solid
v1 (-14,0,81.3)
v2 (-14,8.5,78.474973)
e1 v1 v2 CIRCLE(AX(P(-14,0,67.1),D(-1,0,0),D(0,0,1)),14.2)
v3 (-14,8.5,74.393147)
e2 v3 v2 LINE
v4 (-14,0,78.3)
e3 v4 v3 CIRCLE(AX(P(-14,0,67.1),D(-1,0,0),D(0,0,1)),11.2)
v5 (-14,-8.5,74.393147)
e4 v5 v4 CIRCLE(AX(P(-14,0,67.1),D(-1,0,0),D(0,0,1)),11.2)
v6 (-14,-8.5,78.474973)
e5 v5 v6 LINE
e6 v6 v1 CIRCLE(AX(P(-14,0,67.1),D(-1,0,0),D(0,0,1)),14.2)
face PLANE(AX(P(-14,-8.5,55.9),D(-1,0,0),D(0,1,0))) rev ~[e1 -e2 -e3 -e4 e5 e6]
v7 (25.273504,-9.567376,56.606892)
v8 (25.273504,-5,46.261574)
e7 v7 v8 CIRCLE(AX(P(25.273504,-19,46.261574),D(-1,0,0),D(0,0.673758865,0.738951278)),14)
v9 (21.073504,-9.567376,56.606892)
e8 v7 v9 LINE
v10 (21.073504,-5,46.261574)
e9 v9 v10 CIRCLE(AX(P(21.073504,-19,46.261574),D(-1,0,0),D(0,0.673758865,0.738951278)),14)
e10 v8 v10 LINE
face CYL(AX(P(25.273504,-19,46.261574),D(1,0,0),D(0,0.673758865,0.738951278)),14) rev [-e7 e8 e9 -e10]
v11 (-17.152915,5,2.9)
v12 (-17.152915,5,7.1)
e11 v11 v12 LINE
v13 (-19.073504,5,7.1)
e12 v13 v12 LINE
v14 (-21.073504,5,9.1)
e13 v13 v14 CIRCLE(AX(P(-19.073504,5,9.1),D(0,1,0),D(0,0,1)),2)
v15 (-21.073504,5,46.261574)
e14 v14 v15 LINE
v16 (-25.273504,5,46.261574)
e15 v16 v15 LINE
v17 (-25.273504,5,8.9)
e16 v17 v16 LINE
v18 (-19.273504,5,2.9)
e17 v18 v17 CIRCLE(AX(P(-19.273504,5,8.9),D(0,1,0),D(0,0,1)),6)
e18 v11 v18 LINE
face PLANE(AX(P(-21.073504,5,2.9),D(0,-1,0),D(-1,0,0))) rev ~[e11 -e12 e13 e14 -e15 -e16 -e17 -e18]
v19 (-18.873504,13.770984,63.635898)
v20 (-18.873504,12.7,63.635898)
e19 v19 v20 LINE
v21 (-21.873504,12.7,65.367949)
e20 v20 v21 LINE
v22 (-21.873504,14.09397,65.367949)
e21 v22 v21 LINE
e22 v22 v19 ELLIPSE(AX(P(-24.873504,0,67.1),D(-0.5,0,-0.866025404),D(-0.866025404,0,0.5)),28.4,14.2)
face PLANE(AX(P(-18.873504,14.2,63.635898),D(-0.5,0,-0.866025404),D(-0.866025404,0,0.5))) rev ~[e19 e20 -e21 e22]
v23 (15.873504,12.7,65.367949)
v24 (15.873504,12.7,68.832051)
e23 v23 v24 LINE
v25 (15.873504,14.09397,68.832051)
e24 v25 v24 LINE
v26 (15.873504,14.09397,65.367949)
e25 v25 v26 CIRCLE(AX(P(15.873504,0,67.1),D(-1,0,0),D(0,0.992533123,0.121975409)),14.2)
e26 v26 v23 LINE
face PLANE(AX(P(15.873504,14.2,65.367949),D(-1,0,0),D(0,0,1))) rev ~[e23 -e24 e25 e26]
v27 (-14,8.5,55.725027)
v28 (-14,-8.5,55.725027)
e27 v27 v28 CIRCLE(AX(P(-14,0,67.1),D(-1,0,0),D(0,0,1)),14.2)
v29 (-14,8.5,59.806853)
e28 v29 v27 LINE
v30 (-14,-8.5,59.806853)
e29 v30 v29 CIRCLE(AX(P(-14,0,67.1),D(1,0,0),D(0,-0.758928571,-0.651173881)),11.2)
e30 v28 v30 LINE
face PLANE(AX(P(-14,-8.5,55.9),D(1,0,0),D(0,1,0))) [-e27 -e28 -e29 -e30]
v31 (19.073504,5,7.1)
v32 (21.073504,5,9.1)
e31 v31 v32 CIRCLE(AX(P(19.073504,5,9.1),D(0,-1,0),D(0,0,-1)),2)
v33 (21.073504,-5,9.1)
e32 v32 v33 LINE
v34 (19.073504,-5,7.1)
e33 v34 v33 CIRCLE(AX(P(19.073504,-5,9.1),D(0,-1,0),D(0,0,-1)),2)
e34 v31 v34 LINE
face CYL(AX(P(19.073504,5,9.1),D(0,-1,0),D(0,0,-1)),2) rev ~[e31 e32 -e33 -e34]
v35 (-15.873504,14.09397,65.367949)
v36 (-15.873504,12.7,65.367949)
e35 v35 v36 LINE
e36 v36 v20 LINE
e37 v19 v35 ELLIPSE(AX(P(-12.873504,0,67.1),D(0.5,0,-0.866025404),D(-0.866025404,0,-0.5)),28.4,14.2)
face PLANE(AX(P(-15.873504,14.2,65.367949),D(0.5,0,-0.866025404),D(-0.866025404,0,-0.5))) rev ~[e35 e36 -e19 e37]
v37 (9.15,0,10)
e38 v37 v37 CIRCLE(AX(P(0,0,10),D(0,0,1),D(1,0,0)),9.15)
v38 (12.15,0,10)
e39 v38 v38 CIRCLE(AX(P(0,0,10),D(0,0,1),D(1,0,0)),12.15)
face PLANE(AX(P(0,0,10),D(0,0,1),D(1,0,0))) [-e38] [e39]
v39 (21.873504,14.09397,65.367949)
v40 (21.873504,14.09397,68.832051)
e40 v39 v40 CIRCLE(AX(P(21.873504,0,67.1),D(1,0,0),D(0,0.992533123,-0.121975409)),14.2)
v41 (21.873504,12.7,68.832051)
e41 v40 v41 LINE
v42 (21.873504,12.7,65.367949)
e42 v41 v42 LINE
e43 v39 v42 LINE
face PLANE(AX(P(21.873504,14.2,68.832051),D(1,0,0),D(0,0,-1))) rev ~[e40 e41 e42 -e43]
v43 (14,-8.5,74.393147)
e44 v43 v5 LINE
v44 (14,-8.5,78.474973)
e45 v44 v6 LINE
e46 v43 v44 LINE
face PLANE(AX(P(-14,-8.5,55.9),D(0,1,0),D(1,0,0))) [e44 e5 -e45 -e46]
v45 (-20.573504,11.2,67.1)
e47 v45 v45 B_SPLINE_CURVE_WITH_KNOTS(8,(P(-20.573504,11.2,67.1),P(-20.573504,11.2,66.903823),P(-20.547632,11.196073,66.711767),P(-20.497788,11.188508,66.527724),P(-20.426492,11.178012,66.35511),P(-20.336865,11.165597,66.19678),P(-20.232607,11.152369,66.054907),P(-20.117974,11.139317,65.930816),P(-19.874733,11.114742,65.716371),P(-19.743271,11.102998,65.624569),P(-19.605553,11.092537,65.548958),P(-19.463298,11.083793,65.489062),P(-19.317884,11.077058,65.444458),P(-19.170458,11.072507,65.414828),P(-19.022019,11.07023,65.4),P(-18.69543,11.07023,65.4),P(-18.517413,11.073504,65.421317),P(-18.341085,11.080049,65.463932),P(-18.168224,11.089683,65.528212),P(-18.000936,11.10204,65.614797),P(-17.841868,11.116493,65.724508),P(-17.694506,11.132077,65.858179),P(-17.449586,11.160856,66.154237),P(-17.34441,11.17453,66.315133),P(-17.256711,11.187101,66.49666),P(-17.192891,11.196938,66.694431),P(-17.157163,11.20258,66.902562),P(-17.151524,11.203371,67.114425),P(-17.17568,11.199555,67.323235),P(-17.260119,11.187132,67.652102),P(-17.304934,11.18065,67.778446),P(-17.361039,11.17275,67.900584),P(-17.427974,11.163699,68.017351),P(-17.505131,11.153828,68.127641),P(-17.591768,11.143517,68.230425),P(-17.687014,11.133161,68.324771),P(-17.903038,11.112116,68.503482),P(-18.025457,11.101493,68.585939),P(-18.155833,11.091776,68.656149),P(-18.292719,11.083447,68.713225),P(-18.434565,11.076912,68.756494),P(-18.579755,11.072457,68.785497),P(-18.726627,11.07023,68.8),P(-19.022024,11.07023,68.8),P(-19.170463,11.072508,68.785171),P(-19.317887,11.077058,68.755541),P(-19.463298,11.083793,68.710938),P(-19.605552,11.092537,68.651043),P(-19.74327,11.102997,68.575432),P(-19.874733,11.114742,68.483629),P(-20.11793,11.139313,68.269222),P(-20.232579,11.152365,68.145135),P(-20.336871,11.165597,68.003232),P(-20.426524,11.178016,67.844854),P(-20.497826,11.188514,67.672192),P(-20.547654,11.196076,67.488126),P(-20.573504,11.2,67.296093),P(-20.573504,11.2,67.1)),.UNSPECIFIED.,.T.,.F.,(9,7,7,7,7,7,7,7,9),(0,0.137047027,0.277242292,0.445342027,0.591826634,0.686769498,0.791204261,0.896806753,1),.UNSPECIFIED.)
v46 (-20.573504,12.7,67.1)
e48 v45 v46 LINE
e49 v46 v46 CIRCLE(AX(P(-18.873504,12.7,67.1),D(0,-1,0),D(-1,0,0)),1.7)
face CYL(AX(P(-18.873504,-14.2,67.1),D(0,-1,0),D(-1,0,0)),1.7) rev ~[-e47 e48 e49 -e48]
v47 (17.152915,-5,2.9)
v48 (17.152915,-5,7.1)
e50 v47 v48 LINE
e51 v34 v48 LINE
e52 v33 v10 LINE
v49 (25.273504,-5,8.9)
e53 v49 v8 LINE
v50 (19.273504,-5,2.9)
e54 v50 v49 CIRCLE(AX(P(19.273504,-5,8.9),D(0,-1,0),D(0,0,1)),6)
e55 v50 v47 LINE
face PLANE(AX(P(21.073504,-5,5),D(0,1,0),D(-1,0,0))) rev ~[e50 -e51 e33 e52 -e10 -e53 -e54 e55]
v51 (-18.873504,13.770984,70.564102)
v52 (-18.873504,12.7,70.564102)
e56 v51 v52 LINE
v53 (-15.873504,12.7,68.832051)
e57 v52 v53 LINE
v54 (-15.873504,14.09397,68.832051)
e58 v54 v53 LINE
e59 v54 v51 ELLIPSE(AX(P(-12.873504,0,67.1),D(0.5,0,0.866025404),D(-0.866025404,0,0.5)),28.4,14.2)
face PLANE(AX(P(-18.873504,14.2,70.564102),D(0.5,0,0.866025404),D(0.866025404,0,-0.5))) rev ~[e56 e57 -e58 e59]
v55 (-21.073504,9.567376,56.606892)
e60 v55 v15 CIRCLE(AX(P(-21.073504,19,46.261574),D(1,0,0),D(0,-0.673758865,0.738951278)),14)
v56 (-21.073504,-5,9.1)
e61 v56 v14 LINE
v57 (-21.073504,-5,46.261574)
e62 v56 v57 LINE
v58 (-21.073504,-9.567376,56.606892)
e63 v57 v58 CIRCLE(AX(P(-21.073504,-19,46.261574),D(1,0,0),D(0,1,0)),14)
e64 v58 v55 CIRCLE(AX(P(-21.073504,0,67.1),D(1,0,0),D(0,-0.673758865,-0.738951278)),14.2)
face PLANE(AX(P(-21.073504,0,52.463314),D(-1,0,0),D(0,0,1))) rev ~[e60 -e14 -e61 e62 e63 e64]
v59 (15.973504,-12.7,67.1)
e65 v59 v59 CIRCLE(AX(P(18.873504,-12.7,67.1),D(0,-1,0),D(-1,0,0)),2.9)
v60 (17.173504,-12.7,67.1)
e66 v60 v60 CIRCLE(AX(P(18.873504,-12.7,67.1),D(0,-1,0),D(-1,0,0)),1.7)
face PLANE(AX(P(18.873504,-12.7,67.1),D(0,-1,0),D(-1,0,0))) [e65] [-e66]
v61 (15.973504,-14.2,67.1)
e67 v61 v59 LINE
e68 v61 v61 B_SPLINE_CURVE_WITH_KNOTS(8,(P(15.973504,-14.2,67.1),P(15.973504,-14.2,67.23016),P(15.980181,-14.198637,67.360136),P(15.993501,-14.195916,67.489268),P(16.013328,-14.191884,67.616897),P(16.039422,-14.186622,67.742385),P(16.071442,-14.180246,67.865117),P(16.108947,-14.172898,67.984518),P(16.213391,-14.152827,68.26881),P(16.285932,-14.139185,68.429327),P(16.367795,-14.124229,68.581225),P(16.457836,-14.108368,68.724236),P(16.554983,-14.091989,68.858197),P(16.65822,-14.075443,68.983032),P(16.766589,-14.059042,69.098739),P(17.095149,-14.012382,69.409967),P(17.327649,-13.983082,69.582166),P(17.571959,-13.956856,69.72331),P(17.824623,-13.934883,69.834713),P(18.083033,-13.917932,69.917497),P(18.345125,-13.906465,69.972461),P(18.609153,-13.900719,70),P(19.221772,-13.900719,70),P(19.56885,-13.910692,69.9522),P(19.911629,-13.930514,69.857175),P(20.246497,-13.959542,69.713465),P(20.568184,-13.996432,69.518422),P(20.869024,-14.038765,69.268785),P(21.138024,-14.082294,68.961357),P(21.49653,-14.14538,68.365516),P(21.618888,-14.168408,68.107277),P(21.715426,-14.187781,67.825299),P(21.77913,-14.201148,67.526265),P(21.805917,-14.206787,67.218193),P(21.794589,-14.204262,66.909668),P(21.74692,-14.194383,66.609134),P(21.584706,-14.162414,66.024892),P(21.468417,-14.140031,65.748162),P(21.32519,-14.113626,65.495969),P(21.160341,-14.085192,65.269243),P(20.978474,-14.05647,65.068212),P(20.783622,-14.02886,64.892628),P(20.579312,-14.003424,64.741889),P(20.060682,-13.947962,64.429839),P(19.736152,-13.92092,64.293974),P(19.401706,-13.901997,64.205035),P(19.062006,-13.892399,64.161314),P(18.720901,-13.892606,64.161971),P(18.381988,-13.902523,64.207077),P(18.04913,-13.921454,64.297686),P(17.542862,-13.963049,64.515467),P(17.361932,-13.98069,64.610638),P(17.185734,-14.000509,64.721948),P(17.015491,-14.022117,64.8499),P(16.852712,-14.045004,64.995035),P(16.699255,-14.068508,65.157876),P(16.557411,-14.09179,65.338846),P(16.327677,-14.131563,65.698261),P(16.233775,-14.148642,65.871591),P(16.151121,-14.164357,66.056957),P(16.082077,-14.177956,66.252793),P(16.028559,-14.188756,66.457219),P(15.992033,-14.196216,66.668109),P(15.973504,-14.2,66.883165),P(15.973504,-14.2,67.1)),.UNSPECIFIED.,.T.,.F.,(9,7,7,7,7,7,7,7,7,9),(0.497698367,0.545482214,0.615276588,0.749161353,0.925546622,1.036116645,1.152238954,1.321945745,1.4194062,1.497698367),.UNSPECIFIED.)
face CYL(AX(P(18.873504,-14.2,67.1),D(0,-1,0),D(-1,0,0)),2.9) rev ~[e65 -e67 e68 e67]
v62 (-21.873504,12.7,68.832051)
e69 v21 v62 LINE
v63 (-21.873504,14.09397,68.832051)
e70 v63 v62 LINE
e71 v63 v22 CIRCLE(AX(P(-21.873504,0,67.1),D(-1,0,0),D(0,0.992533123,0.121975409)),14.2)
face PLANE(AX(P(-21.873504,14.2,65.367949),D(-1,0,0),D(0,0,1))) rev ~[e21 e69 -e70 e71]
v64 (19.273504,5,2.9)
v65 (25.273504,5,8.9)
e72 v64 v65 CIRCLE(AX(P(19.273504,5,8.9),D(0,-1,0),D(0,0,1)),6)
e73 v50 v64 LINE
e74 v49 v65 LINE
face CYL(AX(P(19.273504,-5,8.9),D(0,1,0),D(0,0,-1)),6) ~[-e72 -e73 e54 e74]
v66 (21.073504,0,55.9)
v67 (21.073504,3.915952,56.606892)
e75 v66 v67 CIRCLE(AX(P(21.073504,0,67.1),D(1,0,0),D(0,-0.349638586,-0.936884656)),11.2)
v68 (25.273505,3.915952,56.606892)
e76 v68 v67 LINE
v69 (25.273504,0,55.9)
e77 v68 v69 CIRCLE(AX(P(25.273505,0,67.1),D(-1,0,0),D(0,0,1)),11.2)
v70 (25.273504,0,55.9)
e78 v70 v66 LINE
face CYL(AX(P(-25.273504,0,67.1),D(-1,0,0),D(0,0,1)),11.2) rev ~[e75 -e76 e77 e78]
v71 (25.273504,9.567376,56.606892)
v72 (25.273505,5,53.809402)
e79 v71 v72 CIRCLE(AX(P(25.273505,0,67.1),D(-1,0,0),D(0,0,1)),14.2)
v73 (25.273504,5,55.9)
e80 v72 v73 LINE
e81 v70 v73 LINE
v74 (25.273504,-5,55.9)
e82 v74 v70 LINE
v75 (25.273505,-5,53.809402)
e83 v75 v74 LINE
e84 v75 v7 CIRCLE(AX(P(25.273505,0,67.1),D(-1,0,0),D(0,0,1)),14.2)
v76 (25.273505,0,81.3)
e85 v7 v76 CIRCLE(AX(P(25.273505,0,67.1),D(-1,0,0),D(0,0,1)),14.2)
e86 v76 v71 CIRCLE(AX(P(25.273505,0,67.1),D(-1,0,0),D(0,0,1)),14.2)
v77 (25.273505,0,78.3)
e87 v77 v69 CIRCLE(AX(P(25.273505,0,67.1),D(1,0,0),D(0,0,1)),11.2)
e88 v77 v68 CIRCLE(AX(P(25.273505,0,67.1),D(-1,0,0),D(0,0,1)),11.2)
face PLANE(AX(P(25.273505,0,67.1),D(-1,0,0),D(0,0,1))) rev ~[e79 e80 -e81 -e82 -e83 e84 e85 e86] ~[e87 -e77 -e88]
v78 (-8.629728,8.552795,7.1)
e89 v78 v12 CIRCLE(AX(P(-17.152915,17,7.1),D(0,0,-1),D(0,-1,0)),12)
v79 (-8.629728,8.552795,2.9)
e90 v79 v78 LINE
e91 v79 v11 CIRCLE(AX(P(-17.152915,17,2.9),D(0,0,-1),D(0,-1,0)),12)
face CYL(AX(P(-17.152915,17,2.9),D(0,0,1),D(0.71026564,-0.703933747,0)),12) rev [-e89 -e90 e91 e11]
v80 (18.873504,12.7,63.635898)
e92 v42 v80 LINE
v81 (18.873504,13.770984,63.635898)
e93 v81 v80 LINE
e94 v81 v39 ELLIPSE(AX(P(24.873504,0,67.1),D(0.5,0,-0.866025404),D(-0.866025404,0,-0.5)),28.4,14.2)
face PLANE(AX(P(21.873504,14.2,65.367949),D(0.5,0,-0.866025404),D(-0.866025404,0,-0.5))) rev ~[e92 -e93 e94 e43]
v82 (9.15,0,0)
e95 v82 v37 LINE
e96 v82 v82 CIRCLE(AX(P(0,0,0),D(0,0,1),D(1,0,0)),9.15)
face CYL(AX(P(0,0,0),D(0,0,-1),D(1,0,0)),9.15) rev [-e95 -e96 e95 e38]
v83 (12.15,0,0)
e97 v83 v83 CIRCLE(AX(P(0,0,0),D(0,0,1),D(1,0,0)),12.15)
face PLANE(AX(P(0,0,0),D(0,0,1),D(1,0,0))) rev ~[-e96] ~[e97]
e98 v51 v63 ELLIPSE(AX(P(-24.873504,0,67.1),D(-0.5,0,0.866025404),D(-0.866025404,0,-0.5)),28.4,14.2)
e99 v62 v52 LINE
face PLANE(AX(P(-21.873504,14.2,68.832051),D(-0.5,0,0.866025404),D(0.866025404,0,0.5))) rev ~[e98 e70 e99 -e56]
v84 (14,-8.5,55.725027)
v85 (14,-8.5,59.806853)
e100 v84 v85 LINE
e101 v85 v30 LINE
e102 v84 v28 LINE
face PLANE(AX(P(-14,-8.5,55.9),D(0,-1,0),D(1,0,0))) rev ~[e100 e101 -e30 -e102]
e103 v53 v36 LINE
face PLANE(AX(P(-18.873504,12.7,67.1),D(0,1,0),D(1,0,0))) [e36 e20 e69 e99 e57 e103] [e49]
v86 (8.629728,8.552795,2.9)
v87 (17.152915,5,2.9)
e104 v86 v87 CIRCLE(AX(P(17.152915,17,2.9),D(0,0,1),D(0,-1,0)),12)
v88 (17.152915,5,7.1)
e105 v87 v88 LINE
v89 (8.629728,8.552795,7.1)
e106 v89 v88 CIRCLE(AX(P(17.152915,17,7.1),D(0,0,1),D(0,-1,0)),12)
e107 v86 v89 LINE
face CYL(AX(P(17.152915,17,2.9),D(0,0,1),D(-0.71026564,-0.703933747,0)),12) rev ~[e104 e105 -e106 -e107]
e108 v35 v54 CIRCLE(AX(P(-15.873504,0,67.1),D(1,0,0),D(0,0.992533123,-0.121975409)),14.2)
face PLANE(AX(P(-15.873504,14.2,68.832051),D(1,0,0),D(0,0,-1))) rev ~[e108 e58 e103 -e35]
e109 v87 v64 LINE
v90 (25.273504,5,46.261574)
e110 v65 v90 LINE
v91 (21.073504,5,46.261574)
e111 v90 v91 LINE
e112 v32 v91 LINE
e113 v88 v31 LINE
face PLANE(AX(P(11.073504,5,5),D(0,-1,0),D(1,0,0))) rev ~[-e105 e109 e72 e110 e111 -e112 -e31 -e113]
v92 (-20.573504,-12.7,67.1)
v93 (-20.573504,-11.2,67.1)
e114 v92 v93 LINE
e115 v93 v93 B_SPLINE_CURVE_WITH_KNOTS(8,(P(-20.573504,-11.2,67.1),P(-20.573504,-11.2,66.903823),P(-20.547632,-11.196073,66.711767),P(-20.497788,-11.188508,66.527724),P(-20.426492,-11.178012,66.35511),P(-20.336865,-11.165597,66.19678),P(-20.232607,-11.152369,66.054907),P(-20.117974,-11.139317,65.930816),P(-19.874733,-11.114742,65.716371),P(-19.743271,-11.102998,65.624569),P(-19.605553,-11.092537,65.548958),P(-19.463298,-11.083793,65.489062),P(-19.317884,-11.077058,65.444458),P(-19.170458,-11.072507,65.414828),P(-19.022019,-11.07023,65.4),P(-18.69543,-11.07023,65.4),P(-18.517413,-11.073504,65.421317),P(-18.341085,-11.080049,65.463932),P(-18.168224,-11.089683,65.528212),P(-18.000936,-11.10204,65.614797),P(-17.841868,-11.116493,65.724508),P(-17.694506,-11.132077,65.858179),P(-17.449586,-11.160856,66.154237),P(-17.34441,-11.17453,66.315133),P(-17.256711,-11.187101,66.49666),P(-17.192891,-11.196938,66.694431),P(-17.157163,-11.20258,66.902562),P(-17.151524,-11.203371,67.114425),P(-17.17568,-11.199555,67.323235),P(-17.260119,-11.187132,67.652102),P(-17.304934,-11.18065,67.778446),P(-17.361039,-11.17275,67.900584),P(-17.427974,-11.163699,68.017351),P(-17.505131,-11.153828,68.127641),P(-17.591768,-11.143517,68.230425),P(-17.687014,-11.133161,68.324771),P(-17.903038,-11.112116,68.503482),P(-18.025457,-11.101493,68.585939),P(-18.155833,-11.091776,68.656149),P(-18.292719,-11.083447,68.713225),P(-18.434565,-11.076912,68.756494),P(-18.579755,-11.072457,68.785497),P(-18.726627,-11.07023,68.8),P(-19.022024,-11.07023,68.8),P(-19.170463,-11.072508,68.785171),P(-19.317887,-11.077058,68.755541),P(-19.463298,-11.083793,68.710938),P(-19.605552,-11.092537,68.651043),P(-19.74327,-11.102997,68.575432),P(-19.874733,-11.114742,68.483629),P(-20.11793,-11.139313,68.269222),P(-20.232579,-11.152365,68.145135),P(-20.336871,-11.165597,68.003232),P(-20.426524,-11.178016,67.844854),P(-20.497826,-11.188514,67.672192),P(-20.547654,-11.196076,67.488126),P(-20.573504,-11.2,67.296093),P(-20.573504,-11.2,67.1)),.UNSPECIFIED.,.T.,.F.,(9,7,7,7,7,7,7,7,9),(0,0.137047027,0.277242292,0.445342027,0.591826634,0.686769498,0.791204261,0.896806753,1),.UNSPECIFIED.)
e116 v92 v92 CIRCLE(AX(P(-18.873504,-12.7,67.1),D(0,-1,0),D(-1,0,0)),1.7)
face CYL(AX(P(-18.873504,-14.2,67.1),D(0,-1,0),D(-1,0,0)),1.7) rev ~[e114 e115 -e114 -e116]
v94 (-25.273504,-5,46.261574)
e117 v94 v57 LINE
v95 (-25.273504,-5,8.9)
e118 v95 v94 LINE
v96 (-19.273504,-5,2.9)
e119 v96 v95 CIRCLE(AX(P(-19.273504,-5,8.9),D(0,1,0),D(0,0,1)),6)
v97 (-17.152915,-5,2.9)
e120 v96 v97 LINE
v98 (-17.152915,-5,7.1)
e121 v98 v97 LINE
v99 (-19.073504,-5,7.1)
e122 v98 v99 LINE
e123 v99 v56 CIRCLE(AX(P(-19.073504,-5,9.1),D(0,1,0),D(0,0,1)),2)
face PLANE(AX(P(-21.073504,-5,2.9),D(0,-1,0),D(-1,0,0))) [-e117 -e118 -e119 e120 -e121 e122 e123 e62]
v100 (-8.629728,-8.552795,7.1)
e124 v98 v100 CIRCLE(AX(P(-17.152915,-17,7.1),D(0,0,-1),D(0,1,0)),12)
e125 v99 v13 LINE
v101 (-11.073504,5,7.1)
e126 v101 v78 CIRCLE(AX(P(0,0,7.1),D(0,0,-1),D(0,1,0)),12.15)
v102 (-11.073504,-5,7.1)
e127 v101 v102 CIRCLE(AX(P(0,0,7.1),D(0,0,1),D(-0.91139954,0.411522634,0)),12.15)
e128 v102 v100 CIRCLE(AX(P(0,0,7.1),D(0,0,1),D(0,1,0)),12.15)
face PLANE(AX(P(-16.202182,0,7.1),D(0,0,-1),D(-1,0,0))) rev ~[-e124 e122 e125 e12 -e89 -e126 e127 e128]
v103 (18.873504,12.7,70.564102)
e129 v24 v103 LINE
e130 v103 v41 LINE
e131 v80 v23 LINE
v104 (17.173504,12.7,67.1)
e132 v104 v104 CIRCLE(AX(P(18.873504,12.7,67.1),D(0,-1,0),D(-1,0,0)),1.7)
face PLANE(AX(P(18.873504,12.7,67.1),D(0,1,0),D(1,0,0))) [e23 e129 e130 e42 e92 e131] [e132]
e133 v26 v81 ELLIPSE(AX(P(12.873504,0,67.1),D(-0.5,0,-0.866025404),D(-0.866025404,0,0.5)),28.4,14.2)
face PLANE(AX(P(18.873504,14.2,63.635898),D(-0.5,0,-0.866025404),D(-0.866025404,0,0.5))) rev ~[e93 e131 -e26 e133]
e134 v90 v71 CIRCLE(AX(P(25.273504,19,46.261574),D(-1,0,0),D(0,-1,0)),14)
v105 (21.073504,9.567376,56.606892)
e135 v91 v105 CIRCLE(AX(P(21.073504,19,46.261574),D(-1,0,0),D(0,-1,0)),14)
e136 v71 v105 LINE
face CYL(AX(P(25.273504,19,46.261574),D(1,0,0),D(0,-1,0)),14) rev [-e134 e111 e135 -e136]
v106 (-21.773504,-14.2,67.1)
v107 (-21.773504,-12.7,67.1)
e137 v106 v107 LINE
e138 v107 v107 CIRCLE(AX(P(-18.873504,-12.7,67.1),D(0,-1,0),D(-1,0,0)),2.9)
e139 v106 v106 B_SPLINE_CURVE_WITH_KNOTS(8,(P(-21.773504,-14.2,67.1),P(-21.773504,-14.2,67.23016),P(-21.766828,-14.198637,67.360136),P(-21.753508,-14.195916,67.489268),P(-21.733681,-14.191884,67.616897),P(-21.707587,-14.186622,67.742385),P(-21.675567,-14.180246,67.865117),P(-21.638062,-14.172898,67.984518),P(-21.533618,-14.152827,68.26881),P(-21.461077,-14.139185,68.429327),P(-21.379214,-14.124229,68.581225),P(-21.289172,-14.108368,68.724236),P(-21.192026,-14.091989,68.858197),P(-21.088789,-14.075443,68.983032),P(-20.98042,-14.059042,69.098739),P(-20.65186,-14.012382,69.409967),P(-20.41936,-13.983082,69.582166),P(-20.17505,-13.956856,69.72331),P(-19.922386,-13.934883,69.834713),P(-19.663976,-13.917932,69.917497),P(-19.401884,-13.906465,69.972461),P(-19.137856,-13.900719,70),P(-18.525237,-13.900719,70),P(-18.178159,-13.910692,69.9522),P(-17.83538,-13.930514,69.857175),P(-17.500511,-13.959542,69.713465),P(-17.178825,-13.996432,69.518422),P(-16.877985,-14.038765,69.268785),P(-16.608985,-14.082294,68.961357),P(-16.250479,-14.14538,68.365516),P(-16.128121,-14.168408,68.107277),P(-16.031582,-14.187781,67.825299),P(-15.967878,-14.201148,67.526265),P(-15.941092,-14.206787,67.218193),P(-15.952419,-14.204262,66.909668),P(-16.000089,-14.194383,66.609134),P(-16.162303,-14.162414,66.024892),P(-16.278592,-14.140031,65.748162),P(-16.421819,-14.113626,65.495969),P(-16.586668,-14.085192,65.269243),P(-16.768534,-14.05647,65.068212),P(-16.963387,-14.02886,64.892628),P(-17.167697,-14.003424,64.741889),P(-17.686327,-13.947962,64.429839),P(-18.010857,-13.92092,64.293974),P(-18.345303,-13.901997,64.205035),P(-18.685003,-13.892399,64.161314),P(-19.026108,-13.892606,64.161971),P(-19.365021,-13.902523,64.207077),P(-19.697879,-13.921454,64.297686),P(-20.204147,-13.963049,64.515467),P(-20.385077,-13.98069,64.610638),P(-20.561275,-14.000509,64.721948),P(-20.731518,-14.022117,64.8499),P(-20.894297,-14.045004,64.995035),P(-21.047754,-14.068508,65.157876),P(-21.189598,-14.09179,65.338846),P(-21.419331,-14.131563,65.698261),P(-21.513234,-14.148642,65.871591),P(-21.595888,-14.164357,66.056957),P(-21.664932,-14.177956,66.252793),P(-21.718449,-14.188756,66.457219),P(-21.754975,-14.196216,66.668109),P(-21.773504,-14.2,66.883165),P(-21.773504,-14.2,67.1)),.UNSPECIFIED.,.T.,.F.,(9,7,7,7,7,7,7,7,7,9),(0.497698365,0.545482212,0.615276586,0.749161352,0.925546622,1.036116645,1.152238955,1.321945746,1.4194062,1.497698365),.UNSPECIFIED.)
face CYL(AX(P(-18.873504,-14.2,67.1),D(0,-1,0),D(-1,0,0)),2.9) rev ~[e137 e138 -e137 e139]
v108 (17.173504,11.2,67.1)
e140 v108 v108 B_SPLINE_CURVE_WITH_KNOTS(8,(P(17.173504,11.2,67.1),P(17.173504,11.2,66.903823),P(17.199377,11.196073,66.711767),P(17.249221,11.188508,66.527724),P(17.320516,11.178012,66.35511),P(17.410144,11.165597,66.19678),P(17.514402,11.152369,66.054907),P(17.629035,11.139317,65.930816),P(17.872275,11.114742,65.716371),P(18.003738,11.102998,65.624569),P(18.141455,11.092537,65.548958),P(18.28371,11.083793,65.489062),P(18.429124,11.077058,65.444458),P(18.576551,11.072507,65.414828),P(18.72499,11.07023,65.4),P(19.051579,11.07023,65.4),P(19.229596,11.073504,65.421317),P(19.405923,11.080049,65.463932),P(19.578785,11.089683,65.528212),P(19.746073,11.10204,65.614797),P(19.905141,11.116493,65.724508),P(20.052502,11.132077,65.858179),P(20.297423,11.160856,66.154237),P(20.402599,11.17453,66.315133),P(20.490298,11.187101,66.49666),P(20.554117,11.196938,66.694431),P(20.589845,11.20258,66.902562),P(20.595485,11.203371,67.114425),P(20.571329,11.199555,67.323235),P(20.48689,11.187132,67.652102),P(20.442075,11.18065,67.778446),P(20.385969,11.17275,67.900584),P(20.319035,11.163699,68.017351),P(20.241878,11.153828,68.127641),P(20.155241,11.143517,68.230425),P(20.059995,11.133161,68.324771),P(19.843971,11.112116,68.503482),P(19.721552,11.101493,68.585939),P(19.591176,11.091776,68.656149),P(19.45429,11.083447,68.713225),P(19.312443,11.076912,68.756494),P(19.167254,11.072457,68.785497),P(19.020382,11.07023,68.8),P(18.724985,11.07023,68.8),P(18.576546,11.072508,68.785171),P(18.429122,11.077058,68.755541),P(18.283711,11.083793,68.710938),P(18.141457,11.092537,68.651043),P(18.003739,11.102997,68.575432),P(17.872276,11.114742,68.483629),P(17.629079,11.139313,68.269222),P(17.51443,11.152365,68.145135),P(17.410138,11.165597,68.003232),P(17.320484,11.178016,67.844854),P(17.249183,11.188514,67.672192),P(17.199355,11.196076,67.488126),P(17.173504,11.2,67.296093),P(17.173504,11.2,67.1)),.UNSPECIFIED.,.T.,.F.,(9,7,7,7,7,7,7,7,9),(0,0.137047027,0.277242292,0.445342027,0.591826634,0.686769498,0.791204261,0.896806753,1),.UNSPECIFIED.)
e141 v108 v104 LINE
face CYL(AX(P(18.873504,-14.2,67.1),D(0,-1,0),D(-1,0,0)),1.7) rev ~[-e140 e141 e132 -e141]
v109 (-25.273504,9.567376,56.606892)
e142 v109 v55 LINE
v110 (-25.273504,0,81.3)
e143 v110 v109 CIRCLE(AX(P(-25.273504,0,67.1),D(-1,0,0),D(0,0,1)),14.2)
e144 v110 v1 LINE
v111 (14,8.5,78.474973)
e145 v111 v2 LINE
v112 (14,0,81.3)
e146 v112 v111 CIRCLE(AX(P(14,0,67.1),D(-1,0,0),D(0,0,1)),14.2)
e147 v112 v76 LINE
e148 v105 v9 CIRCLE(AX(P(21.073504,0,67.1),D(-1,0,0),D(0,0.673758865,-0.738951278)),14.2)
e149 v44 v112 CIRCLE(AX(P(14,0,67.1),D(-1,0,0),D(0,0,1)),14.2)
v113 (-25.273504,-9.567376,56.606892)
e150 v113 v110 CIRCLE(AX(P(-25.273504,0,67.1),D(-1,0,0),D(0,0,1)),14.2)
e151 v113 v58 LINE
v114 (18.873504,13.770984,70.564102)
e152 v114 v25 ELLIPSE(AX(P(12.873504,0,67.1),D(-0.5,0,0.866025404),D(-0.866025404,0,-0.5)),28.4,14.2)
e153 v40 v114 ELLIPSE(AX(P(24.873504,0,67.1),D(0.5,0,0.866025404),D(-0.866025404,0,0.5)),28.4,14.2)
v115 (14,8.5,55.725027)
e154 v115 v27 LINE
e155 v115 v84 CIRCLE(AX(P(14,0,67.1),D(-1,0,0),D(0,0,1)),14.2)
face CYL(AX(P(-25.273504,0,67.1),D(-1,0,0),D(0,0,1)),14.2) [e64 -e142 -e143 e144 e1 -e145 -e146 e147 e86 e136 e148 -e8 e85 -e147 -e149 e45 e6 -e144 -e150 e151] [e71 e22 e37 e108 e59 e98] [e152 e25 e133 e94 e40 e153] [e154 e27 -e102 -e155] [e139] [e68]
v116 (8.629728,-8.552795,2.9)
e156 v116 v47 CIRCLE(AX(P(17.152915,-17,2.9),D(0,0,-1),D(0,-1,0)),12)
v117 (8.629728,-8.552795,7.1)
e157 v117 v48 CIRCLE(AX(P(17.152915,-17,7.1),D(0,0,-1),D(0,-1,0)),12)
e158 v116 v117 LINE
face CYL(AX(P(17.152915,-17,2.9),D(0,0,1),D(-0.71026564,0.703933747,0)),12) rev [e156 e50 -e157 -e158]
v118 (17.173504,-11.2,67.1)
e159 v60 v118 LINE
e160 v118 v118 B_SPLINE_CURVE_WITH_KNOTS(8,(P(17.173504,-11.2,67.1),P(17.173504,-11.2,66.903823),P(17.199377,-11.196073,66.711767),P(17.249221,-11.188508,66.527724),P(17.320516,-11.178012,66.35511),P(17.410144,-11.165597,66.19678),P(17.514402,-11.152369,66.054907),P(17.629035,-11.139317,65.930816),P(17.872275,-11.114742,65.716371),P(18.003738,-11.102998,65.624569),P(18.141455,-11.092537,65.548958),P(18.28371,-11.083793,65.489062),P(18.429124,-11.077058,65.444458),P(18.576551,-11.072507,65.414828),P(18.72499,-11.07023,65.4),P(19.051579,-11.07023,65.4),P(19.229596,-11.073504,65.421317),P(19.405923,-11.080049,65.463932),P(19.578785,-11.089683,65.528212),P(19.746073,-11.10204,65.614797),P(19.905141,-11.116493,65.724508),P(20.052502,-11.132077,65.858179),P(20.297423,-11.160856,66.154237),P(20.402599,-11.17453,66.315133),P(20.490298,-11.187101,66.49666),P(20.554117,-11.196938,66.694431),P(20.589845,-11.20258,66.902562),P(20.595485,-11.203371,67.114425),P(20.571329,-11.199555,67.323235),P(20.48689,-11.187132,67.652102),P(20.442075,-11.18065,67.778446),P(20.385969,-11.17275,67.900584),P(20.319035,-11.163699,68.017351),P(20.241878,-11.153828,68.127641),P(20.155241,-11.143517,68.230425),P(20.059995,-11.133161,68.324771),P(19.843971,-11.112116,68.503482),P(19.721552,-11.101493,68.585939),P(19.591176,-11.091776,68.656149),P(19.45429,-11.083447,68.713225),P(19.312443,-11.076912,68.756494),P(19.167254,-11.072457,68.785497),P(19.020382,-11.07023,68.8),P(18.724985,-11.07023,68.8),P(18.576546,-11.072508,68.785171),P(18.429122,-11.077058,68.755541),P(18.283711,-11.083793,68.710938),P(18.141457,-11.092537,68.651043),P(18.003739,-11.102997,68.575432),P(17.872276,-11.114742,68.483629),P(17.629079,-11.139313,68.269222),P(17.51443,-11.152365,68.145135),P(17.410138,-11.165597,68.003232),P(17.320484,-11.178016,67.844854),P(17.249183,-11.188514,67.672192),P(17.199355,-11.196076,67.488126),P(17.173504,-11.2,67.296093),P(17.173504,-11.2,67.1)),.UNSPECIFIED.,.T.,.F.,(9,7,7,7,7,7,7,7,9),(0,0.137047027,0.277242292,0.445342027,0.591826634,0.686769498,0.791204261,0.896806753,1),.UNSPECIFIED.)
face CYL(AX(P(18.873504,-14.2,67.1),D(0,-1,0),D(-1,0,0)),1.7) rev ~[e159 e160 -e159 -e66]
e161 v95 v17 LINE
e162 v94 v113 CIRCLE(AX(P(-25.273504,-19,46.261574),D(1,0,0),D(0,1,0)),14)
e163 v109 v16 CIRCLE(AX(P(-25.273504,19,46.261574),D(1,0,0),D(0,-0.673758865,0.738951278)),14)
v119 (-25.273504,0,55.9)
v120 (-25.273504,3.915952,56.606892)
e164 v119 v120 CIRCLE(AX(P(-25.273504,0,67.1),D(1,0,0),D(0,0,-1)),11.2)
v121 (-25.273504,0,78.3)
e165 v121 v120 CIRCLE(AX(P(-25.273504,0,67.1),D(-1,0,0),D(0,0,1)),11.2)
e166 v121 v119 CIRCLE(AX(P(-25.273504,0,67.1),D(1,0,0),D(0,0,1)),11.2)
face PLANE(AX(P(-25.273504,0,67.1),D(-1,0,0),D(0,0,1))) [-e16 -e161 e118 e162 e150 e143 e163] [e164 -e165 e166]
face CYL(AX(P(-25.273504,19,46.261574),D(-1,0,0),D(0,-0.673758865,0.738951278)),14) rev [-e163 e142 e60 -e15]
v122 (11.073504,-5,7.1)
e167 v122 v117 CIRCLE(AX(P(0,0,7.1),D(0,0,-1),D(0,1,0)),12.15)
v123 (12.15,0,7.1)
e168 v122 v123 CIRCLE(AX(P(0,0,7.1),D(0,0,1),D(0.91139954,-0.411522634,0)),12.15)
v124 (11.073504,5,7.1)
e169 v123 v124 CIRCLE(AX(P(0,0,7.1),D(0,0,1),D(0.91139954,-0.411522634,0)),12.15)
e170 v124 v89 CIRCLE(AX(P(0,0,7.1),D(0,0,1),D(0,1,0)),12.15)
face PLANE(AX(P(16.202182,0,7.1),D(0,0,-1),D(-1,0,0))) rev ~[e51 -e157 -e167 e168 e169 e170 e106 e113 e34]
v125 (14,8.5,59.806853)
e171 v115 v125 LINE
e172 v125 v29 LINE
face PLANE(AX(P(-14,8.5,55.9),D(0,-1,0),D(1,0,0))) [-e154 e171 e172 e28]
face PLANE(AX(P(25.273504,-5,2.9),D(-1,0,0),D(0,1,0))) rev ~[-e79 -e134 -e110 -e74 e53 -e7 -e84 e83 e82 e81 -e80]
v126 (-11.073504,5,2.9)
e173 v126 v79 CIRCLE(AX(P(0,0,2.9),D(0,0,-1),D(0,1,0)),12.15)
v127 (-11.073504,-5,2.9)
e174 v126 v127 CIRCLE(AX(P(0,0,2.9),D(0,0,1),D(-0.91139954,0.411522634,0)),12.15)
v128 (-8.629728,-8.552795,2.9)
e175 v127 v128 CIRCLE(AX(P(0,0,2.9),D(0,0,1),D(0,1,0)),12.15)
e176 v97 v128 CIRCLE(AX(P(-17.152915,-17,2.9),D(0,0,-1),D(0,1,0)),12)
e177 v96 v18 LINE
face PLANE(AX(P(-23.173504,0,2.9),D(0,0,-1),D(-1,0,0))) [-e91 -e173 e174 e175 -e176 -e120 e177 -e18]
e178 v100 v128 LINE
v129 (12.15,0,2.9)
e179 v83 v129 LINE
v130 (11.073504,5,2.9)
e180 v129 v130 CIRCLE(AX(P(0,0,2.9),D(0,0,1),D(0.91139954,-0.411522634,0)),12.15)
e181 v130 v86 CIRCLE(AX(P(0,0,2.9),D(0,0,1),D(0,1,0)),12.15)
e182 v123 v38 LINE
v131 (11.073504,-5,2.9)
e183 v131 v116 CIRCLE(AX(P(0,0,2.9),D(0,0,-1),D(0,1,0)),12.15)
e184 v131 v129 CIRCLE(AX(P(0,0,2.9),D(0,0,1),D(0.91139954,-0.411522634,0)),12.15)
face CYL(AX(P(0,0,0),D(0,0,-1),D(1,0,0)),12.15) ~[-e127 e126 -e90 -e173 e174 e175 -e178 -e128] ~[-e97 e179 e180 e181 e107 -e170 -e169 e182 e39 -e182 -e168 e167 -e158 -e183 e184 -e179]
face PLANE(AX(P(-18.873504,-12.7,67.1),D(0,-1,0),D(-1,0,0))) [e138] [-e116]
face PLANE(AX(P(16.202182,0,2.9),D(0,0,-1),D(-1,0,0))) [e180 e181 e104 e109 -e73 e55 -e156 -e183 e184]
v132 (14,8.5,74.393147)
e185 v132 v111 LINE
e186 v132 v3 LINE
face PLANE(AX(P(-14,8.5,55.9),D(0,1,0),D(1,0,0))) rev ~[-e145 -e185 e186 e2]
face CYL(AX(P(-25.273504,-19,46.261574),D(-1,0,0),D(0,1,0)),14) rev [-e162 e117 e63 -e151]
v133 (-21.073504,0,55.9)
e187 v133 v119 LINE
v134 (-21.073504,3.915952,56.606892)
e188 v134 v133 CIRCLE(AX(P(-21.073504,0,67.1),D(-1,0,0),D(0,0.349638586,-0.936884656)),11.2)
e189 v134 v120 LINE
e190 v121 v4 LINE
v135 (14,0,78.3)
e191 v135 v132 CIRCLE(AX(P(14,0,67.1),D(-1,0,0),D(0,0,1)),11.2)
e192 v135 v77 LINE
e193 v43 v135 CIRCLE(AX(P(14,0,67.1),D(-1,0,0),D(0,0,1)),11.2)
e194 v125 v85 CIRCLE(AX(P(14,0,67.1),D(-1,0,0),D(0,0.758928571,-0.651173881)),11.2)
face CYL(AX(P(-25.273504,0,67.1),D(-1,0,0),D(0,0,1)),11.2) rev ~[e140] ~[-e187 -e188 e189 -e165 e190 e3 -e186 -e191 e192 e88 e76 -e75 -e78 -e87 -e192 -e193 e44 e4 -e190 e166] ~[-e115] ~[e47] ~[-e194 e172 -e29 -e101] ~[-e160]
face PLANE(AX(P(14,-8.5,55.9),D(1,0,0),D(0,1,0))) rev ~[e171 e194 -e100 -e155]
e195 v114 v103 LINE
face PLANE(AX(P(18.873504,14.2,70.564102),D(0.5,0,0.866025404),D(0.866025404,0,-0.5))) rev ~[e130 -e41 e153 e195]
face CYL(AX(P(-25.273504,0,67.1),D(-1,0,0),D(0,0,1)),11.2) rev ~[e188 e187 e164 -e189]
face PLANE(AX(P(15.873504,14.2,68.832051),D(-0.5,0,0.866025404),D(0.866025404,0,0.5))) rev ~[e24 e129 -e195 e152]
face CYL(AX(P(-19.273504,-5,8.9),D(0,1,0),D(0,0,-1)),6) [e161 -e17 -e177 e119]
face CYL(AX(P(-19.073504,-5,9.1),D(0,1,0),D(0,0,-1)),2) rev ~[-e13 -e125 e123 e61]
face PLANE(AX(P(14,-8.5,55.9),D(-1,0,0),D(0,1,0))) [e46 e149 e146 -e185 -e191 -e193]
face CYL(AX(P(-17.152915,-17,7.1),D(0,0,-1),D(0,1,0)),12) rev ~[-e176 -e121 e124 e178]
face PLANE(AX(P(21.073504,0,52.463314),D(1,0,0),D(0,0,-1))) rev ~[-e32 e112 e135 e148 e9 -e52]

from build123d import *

# Parameters (mm, degrees)
SKETCH1_R                = 12.15
SKETCH1_R_2              = 9.15
BOSS_EXTRUDE1_DEPTH      = 10
BOSS_EXTRUDE2_DEPTH      = 2.1
BOSS_EXTRUDE2_DEPTH_BACK = 2.1
SKETCH4_W                = 4.2
SKETCH4_H                = 10
BOSS_EXTRUDE3_DEPTH      = 53
FILLET1_R                = 12
SKETCH5_R                = 14.2
SKETCH5_R_2              = 11.2
BOSS_EXTRUDE4_DEPTH      = 50.547009
BOSS_EXTRUDE11_DEPTH     = 4.2
BOSS_EXTRUDE12_DEPTH     = 4.2
FILLET2_R                = 6
FILLET3_R                = 2
SKETCH10_R               = 11.2
CUT_EXTRUDE2_DEPTH       = 51.547008827
SKETCH15_R               = 1.7
CUT_EXTRUDE5_DEPTH       = 1
CUT_EXTRUDE5_DEPTH_BACK  = 29.4
SKETCH17_R               = 2.9
CUT_EXTRUDE6_DEPTH       = 1.5
CUT_EXTRUDE7_DEPTH       = 1.5
SKETCH19_W               = 28
SKETCH19_H               = 17
CUT_EXTRUDE8_DEPTH       = 26.4000001
CUT_EXTRUDE8_DEPTH_BACK  = 4


with BuildPart() as part:
    # Sketch1 → Boss-Extrude1 (new body)
    with BuildSketch(Plane.XY):
        Circle(SKETCH1_R)
        Circle(SKETCH1_R_2, mode=Mode.SUBTRACT)
    extrude(amount=BOSS_EXTRUDE1_DEPTH)

    # Sketch2 → Boss-Extrude2 (add, two sides)
    with BuildSketch(Plane.XY.offset(5)) as boss_extrude2_sk:
        with BuildLine():
            Line((11.073504414, 5), (21.073504414, 5))
            Line((21.073504414, 5), (21.073504414, -5))
            Line((21.073504414, -5), (11.073504414, -5))
            ThreePointArc((11.073504414, -5), (12.15, 0), (11.073504414, 5))
        make_face()
        with BuildLine():
            ThreePointArc((-11.073504414, 5), (-12.15, 0), (-11.073504414, -5))
            Line((-11.073504414, -5), (-21.073504414, -5))
            Line((-21.073504414, -5), (-21.073504414, 5))
            Line((-21.073504414, 5), (-11.073504414, 5))
        make_face()
    extrude(amount=BOSS_EXTRUDE2_DEPTH)
    extrude(boss_extrude2_sk.sketch, amount=-BOSS_EXTRUDE2_DEPTH_BACK)

    # Sketch4 → Boss-Extrude3 (add)
    with BuildSketch(Plane(origin=(0, 0, 2.9), x_dir=(-1, 0, 0), z_dir=(0, 0, -1))):
        with Locations((23.173504414, 0)):
            Rectangle(SKETCH4_W, SKETCH4_H)
        with Locations((-23.173504414, 0)):
            Rectangle(SKETCH4_W, SKETCH4_H)
    extrude(amount=-BOSS_EXTRUDE3_DEPTH)

    # Fillet1
    fillet1_edges = [part.edges().sort_by_distance(p)[0] for p in [
        (11.073504414, 5, 5),
        (11.073504414, -5, 5),
        (-11.073504414, 5, 5),
        (-11.073504414, -5, 5),
    ]]
    fillet(fillet1_edges, radius=FILLET1_R)



with BuildPart() as body_2:
    # Sketch5 → Boss-Extrude4 (new body)
    with BuildSketch(Plane.ZY.offset(25.273504414)):
        with Locations((67.1, 0)):
            Circle(SKETCH5_R)
        with Locations((67.1, 0)):
            Circle(SKETCH5_R_2, mode=Mode.SUBTRACT)
    extrude(amount=-BOSS_EXTRUDE4_DEPTH)


with BuildPart() as part_1:
    add(part.part)

    add(body_2.part)  # Boss-Extrude11 merges body 2
    # Sketch7 → Boss-Extrude11 (add)
    with BuildSketch(Plane.ZY.offset(25.273504414)):
        with BuildLine():
            Line((56.60689185, -9.567375887), (56.60689185, 9.567375887))
            ThreePointArc((56.60689185, 9.567375887), (51.915920178, 6.192643958), (46.261573956, 5))
            Line((46.261573956, 5), (46.261573956, -5))
            ThreePointArc((46.261573956, -5), (51.915920178, -6.192643958), (56.60689185, -9.567375887))
        make_face()
    extrude(amount=-BOSS_EXTRUDE11_DEPTH)

    # Sketch9 → Boss-Extrude12 (add)
    with BuildSketch(Plane(origin=(25.273504414, 0, 0), x_dir=(0, 0, -1), z_dir=(1, 0, 0))):
        with BuildLine():
            Line((-56.60689185, 9.567375887), (-56.60689185, -9.567375887))
            ThreePointArc((-56.60689185, -9.567375887), (-51.915920178, -6.192643958), (-46.261573956, -5))
            Line((-46.261573956, -5), (-46.261573956, 5))
            ThreePointArc((-46.261573956, 5), (-51.915920178, 6.192643958), (-56.60689185, 9.567375887))
        make_face()
    extrude(amount=-BOSS_EXTRUDE12_DEPTH)

    # Fillet2
    fillet2_edges = [part_1.edges().sort_by_distance(p)[0] for p in [
        (-25.273504414, 0, 2.9),
        (25.273504414, 0, 2.9),
    ]]
    fillet(fillet2_edges, radius=FILLET2_R)

    # Fillet3
    fillet3_edges = [part_1.edges().sort_by_distance(p)[0] for p in [
        (21.073504414, 0, 7.1),
        (-21.073504414, 0, 7.1),
    ]]
    fillet(fillet3_edges, radius=FILLET3_R)

    # Sketch10 → Cut-Extrude2 (cut, through all)
    with BuildSketch(Plane(origin=(25.273504414, 0, 0), x_dir=(0, 0, -1), z_dir=(1, 0, 0))):
        with Locations((-67.1, 0)):
            Circle(SKETCH10_R)
    extrude(amount=-CUT_EXTRUDE2_DEPTH, mode=Mode.SUBTRACT)

    # Sketch15 → Cut-Extrude5 (cut, two sides)
    with BuildSketch(Plane(origin=(0, -14.2, 0), x_dir=(-1, 0, 0), z_dir=(0, -1, 0))) as cut_extrude5_sk:
        with Locations((-18.873504414, -67.1)):
            Circle(SKETCH15_R)
        with Locations((18.873504414, -67.1)):
            Circle(SKETCH15_R)
    extrude(amount=CUT_EXTRUDE5_DEPTH, mode=Mode.SUBTRACT)
    extrude(cut_extrude5_sk.sketch, amount=-CUT_EXTRUDE5_DEPTH_BACK, mode=Mode.SUBTRACT)

    # Sketch17 → Cut-Extrude6 (cut)
    with BuildSketch(Plane(origin=(0, -14.2, 0), x_dir=(-1, 0, 0), z_dir=(0, -1, 0))):
        with Locations((-18.873504414, -67.1)):
            Circle(SKETCH17_R)
        with Locations((18.873504414, -67.1)):
            Circle(SKETCH17_R)
    extrude(amount=-CUT_EXTRUDE6_DEPTH, mode=Mode.SUBTRACT)

    # Sketch18 → Cut-Extrude7 (cut)
    with BuildSketch(Plane(origin=(0, 14.2, 0), x_dir=(1, 0, 0), z_dir=(0, 1, 0))):
        Polygon((-15.873504414, -68.832050808), (-15.873504414, -65.367949192), (-18.873504414, -63.635898385), (-21.873504414, -65.367949192), (-21.873504414, -68.832050808), (-18.873504414, -70.564101615), align=None)
        Polygon((21.873504414, -68.832050808), (21.873504414, -65.367949192), (18.873504414, -63.635898385), (15.873504414, -65.367949192), (15.873504414, -68.832050808), (18.873504414, -70.564101615), align=None)
    extrude(amount=-CUT_EXTRUDE7_DEPTH, mode=Mode.SUBTRACT)

    # Sketch19 → Cut-Extrude8 (cut, two sides)
    with BuildSketch(Plane.XY.offset(55.9)) as cut_extrude8_sk:
        Rectangle(SKETCH19_W, SKETCH19_H)
    extrude(amount=CUT_EXTRUDE8_DEPTH, mode=Mode.SUBTRACT)
    extrude(cut_extrude8_sk.sketch, amount=-CUT_EXTRUDE8_DEPTH_BACK, mode=Mode.SUBTRACT)


solid = part_1.part
